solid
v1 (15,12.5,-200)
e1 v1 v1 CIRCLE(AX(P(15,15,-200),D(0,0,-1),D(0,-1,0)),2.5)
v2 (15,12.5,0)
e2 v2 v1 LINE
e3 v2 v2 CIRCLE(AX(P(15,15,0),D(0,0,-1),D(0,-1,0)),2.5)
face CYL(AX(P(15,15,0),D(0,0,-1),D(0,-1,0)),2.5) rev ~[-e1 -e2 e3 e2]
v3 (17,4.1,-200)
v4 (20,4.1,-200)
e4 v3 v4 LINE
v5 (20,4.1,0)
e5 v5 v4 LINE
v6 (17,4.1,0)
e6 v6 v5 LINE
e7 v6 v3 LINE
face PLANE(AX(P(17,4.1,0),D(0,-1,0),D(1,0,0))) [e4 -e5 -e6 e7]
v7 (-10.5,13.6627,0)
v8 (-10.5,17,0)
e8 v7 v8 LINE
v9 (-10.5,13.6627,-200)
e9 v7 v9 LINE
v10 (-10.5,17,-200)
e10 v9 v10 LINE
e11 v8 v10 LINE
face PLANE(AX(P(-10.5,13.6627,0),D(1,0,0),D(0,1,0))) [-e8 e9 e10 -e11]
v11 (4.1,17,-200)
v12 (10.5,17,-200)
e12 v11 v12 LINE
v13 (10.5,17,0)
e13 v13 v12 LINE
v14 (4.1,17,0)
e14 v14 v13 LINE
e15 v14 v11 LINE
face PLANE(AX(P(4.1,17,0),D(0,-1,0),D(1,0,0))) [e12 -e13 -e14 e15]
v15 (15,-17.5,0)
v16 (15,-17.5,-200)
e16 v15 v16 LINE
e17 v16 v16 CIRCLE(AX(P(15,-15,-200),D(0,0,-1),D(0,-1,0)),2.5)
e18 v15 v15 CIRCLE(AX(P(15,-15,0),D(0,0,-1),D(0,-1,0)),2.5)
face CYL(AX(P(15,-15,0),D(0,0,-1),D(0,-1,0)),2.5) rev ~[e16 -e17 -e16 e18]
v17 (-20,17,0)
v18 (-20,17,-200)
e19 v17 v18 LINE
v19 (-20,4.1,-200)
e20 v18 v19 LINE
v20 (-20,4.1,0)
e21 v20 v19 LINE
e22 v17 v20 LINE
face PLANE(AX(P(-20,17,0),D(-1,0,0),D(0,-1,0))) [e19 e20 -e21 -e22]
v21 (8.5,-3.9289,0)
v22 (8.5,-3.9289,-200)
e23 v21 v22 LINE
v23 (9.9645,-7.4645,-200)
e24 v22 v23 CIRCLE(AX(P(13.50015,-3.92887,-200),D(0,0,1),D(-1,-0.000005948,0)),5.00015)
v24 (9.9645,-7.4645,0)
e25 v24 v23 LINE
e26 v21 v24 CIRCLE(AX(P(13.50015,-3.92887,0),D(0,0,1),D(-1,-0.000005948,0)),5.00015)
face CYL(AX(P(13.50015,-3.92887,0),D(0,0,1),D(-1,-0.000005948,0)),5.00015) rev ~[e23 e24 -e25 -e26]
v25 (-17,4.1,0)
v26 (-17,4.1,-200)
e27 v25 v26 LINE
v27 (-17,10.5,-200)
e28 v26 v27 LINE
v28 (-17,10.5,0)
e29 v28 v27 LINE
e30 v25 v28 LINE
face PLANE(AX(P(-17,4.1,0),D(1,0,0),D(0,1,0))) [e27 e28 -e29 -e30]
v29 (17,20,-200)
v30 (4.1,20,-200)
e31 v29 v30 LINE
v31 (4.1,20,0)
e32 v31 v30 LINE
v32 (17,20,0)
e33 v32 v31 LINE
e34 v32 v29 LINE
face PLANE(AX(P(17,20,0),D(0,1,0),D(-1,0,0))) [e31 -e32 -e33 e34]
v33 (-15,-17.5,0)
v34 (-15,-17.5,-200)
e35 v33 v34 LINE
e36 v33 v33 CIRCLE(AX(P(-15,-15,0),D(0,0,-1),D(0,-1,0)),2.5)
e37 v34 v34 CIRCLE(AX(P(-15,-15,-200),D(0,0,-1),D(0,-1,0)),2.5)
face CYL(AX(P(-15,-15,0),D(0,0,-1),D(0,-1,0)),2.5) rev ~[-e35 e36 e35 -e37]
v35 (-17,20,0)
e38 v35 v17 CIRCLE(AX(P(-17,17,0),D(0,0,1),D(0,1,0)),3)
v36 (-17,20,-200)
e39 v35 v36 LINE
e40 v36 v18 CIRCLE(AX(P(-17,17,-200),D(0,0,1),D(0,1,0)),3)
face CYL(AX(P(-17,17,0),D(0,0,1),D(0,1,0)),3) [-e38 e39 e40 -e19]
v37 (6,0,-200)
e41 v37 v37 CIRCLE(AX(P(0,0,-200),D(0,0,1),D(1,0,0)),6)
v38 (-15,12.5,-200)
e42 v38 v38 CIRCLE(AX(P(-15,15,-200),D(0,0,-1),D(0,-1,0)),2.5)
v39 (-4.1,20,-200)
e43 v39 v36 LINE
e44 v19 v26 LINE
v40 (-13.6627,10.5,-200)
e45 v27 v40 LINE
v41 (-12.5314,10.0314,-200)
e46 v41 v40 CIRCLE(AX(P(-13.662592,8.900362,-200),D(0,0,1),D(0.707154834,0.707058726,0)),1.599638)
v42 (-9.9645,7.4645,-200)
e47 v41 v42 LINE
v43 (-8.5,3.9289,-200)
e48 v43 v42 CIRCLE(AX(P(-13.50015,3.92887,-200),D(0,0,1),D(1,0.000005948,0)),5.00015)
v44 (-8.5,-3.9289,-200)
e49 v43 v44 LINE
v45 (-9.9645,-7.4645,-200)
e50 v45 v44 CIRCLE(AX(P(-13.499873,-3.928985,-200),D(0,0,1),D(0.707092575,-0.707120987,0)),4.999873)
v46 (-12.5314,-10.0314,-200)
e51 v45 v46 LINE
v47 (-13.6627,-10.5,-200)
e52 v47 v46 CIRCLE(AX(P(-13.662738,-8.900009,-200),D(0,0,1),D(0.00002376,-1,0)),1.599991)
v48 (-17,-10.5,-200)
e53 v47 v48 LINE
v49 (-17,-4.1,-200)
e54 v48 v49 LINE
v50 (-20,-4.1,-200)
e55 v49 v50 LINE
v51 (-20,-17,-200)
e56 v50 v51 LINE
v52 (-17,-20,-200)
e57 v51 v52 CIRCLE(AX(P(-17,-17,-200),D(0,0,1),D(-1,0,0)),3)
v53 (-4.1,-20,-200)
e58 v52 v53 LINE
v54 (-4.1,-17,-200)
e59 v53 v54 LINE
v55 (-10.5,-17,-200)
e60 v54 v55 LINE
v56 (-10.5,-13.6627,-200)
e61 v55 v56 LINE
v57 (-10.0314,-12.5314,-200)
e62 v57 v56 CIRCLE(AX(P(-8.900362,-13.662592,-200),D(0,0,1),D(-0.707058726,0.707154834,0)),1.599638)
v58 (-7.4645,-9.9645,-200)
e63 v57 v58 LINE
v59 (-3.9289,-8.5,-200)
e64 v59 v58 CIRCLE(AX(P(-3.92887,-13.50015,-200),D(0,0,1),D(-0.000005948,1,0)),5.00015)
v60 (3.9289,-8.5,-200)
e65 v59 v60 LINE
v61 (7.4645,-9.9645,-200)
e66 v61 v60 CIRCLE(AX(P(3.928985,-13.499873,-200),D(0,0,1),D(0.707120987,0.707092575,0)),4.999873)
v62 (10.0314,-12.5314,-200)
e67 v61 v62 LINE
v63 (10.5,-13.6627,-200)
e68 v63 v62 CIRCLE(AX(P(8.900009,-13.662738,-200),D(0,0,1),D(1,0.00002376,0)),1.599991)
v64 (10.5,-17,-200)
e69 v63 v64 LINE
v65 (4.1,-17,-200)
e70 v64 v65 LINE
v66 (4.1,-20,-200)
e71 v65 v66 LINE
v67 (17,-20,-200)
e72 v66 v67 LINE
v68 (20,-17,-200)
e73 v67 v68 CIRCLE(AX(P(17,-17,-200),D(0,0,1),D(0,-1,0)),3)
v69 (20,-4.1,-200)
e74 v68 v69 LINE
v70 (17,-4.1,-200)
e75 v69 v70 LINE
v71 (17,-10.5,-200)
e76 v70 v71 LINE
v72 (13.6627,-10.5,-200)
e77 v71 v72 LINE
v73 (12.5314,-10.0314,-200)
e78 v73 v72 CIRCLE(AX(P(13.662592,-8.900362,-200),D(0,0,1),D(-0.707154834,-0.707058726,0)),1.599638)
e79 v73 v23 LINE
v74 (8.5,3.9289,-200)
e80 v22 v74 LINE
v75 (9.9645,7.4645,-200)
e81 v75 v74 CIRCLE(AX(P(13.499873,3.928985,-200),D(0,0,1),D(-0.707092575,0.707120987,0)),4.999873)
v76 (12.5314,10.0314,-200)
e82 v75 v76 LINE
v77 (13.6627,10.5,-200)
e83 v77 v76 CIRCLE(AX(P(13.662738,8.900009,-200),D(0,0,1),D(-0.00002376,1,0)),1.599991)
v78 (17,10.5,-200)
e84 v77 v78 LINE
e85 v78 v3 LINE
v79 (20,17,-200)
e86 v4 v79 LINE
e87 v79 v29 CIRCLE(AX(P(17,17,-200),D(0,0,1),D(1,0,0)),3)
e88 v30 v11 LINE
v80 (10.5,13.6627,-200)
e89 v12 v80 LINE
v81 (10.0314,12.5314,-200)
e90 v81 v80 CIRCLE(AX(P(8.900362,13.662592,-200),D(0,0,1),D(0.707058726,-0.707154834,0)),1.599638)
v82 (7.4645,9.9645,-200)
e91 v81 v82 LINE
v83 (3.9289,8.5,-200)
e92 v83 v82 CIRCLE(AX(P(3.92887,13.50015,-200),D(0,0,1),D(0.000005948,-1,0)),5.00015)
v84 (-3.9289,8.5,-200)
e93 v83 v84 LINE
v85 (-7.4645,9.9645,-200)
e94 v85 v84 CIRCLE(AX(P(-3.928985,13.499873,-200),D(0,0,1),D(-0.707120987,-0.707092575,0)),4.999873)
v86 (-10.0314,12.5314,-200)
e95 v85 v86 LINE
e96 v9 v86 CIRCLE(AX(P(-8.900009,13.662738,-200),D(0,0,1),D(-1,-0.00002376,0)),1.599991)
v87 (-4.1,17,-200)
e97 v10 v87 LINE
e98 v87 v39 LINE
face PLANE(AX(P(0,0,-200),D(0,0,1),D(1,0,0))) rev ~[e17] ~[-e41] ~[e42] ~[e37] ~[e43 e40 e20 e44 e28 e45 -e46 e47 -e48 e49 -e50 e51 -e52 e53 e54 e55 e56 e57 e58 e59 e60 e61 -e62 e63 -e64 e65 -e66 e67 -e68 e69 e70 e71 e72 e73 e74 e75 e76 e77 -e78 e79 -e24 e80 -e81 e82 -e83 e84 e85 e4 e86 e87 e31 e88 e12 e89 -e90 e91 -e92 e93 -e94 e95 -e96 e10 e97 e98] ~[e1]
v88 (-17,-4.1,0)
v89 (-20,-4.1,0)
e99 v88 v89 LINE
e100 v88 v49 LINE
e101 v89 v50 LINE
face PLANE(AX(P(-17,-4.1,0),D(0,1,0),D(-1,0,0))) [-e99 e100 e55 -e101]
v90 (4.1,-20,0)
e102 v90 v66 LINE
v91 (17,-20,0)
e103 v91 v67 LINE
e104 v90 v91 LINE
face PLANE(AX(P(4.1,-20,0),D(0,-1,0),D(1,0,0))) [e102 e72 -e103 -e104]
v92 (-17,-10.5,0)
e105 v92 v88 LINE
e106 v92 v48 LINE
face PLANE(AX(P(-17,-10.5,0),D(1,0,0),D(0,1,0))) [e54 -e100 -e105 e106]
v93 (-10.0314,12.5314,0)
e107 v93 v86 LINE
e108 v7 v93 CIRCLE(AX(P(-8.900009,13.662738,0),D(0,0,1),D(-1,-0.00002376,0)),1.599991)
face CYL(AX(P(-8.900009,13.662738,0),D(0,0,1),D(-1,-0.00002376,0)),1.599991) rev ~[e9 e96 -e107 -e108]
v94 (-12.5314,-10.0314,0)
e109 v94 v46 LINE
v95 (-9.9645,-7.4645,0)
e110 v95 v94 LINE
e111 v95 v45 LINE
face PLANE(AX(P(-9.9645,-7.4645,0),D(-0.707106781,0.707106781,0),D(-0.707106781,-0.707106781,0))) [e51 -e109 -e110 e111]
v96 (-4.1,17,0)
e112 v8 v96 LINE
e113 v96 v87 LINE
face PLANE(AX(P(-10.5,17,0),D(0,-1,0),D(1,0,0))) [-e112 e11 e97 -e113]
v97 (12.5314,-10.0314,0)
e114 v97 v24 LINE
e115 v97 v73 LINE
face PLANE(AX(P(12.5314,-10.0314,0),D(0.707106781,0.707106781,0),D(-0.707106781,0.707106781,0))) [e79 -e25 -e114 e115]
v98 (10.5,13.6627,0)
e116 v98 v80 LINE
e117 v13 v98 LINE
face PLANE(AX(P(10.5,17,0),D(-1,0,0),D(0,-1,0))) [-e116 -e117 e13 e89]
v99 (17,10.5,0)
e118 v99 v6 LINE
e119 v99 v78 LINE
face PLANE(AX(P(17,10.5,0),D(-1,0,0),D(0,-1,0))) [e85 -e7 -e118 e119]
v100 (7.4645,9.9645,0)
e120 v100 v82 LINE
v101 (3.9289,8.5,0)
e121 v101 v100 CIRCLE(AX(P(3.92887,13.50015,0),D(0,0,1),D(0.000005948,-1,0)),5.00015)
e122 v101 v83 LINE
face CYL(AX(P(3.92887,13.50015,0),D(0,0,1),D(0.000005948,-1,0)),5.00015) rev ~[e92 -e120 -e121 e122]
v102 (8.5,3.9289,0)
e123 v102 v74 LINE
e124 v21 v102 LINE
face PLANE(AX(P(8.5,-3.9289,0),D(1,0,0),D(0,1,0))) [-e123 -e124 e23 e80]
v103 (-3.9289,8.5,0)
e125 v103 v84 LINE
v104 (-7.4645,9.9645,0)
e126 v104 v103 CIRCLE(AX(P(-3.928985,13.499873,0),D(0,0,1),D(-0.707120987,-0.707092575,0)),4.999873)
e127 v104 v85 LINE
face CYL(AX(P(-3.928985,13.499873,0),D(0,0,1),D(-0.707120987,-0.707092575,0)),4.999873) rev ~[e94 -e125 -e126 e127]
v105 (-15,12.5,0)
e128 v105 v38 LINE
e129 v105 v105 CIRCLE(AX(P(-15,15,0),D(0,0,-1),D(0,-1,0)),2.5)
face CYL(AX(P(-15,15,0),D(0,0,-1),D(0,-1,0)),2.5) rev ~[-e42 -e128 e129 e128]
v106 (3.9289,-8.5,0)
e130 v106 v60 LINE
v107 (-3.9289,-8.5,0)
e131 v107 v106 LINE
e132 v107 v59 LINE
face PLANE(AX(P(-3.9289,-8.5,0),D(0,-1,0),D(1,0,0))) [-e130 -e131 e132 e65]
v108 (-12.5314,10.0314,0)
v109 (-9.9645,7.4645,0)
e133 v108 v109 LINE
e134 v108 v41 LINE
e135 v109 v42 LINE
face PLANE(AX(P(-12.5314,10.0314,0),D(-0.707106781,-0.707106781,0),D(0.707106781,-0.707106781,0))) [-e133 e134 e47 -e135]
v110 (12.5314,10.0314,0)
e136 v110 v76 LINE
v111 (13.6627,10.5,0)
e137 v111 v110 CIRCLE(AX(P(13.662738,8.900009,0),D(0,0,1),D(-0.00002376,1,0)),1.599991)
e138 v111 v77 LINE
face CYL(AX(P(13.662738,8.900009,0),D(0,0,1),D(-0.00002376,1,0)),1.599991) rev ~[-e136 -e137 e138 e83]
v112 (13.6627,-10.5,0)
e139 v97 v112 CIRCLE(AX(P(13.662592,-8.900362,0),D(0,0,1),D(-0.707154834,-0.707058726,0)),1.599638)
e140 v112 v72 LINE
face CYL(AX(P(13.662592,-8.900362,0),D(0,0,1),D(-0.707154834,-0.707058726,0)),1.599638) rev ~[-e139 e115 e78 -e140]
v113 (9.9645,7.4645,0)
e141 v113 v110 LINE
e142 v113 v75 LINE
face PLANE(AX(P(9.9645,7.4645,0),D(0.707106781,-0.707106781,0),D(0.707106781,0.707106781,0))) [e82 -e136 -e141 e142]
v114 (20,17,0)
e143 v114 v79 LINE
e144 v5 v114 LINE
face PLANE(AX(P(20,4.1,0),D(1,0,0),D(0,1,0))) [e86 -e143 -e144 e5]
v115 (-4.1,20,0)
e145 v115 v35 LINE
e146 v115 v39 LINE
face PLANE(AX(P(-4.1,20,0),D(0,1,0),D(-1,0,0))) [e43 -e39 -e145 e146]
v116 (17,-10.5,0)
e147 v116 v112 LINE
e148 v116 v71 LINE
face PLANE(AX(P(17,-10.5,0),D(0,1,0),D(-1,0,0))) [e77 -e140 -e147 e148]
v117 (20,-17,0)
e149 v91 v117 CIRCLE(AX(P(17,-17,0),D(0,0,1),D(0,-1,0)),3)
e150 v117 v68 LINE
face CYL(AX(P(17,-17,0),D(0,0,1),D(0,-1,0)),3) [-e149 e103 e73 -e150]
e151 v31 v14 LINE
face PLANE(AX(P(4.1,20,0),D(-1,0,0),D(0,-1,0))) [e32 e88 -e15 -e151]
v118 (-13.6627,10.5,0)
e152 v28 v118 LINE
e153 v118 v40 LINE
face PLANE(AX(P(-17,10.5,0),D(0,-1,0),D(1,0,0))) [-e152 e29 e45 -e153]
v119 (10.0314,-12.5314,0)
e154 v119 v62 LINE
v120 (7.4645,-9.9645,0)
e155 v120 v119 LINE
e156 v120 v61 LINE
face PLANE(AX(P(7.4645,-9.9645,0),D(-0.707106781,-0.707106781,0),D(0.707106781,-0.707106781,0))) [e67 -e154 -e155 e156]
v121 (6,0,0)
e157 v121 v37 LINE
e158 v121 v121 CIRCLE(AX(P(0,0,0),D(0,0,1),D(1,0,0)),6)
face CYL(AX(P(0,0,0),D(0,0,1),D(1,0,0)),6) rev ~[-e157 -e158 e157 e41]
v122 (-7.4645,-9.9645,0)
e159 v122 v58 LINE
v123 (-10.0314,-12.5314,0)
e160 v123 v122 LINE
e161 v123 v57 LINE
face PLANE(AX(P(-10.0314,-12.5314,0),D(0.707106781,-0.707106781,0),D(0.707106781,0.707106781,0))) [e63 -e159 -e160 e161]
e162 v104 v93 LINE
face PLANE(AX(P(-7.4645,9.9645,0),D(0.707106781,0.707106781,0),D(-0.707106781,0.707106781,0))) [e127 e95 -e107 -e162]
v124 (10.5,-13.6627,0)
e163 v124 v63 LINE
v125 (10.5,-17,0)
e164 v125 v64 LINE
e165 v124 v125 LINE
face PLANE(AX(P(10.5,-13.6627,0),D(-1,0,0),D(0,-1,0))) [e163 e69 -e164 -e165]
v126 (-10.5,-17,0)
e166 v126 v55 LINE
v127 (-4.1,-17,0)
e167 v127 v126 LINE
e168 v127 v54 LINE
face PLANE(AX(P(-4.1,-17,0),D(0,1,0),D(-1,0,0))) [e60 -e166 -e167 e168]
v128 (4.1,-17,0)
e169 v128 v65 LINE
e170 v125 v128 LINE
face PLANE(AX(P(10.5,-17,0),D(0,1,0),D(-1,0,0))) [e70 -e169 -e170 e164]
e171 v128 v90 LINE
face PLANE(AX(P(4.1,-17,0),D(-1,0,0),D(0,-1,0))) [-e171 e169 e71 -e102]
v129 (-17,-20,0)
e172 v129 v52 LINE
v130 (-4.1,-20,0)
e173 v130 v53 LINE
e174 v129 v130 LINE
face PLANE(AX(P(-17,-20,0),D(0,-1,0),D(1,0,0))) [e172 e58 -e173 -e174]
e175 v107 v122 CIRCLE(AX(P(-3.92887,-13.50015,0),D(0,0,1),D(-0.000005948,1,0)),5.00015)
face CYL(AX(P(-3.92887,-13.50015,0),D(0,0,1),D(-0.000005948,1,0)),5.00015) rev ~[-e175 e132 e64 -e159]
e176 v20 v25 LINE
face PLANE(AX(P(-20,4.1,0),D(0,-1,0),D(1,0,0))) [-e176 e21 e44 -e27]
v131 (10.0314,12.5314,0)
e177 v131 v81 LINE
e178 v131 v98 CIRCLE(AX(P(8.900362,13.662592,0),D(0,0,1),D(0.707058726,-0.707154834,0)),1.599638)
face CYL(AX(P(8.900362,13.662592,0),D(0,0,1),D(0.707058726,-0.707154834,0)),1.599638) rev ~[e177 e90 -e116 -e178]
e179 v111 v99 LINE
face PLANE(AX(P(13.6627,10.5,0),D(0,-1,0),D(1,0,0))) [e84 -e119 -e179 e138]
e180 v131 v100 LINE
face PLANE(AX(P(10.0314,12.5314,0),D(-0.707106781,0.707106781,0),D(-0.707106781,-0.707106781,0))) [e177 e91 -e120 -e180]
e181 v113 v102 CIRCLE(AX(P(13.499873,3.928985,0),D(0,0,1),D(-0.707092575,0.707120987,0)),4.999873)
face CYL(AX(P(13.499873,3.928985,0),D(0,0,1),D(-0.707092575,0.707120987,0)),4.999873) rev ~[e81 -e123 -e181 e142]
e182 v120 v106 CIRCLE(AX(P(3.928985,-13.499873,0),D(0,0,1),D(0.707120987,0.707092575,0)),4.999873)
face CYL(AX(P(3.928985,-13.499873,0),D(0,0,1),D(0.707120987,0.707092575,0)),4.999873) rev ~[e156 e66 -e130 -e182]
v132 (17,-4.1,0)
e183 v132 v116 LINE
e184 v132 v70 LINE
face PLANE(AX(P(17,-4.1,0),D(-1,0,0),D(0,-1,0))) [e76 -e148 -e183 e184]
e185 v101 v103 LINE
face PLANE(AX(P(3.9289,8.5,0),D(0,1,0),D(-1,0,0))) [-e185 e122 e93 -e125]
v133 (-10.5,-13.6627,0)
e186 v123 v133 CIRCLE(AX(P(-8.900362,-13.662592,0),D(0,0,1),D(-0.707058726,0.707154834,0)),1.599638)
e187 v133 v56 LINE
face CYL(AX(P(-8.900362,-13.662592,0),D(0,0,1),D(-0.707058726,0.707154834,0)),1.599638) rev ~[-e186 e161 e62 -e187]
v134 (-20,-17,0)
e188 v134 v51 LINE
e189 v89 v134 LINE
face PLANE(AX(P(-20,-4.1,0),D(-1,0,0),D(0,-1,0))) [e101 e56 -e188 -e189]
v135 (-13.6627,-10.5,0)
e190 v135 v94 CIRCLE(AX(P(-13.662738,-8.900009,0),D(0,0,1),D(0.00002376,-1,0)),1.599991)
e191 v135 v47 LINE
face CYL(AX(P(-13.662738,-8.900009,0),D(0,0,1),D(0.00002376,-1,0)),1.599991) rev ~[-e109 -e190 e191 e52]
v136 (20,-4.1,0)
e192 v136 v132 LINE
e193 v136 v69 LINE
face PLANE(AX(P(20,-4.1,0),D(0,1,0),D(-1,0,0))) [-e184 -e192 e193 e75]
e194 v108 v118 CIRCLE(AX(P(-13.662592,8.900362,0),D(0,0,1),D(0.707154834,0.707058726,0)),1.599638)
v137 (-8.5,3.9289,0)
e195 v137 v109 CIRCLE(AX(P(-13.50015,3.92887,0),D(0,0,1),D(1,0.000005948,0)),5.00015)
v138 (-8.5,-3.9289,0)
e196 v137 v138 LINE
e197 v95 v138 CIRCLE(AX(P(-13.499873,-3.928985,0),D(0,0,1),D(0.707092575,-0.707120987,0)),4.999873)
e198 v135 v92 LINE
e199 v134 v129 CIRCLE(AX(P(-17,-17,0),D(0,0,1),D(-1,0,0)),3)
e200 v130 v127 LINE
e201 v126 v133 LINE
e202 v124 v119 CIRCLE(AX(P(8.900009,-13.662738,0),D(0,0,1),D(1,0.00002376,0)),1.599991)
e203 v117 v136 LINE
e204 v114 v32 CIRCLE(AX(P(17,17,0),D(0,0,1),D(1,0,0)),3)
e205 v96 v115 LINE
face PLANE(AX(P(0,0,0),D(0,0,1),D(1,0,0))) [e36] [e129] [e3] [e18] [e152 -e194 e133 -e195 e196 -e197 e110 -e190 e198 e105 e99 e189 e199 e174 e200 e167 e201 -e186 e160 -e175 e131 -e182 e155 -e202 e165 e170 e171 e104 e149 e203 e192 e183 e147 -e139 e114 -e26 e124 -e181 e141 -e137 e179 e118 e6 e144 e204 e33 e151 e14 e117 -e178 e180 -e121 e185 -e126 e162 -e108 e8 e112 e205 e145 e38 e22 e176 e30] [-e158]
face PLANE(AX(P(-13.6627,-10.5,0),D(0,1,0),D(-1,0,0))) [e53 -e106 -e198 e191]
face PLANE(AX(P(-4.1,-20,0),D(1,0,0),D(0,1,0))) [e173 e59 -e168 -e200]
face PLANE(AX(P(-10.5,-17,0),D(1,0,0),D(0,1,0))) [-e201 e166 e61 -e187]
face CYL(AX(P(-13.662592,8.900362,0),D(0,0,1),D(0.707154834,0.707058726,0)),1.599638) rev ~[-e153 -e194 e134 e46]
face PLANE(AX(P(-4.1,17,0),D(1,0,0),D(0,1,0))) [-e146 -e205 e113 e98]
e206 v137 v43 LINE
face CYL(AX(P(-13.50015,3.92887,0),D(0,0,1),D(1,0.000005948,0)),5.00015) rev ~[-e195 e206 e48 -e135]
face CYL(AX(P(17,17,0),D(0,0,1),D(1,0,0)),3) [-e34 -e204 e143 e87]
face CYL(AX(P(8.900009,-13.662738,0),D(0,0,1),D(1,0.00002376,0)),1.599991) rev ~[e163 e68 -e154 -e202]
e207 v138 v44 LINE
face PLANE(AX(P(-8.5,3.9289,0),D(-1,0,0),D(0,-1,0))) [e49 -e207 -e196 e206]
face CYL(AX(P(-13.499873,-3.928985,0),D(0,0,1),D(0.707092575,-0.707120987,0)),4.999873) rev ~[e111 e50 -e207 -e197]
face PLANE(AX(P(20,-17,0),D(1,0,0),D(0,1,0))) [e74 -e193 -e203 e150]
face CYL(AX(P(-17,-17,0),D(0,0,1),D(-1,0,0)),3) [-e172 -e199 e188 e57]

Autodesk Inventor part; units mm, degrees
sketch "Skizze_1" plane through (0, 0, 0) normal (0, 0, 1) x (1, 0, 0)
  arc A0 (-20, -17) -> (-17, -20) centre (-17, -17) ccw
  line L0 (-17, -20) -> (-4.1, -20)
  line L1 (-4.1, -20) -> (-4.1, -17)
  line L2 (-4.1, -17) -> (-10.5, -17)
  line L3 (-10.5, -17) -> (-10.5, -13.6627)
  arc A1 (-10.0314, -12.5314) -> (-10.5, -13.6627) centre (-8.9002, -13.6627) ccw
  line L4 (-10.0314, -12.5314) -> (-7.4645, -9.9645)
  arc A2 (-3.9289, -8.5) -> (-7.4645, -9.9645) centre (-3.9289, -13.5) ccw
  line L5 (-3.9289, -8.5) -> (3.9289, -8.5)
  arc A3 (7.4645, -9.9645) -> (3.9289, -8.5) centre (3.9289, -13.5) ccw
  line L6 (7.4645, -9.9645) -> (10.0314, -12.5314)
  arc A4 (10.5, -13.6627) -> (10.0314, -12.5314) centre (8.9002, -13.6627) ccw
  line L7 (10.5, -13.6627) -> (10.5, -17)
  line L8 (10.5, -17) -> (4.1, -17)
  line L9 (4.1, -17) -> (4.1, -20)
  line L10 (4.1, -20) -> (17, -20)
  arc A5 (17, -20) -> (20, -17) centre (17, -17) ccw
  line L11 (20, -17) -> (20, -4.1)
  line L12 (20, -4.1) -> (17, -4.1)
  line L13 (17, -4.1) -> (17, -10.5)
  line L14 (17, -10.5) -> (13.6627, -10.5)
  arc A6 (12.5314, -10.0314) -> (13.6627, -10.5) centre (13.6627, -8.9002) ccw
  line L15 (12.5314, -10.0314) -> (9.9645, -7.4645)
  arc A7 (8.5, -3.9289) -> (9.9645, -7.4645) centre (13.5, -3.9289) ccw
  line L16 (8.5, -3.9289) -> (8.5, 3.9289)
  arc A8 (9.9645, 7.4645) -> (8.5, 3.9289) centre (13.5, 3.9289) ccw
  line L17 (9.9645, 7.4645) -> (12.5314, 10.0314)
  arc A9 (13.6627, 10.5) -> (12.5314, 10.0314) centre (13.6627, 8.9002) ccw
  line L18 (13.6627, 10.5) -> (17, 10.5)
  line L19 (17, 10.5) -> (17, 4.1)
  line L20 (17, 4.1) -> (20, 4.1)
  line L21 (20, 4.1) -> (20, 17)
  arc A10 (20, 17) -> (17, 20) centre (17, 17) ccw
  line L22 (17, 20) -> (4.1, 20)
  line L23 (4.1, 20) -> (4.1, 17)
  line L24 (4.1, 17) -> (10.5, 17)
  line L25 (10.5, 17) -> (10.5, 13.6627)
  arc A11 (10.0314, 12.5314) -> (10.5, 13.6627) centre (8.9002, 13.6627) ccw
  line L26 (10.0314, 12.5314) -> (7.4645, 9.9645)
  arc A12 (3.9289, 8.5) -> (7.4645, 9.9645) centre (3.9289, 13.5) ccw
  line L27 (3.9289, 8.5) -> (-3.9289, 8.5)
  arc A13 (-7.4645, 9.9645) -> (-3.9289, 8.5) centre (-3.9289, 13.5) ccw
  line L28 (-7.4645, 9.9645) -> (-10.0314, 12.5314)
  arc A14 (-10.5, 13.6627) -> (-10.0314, 12.5314) centre (-8.9002, 13.6627) ccw
  line L29 (-10.5, 13.6627) -> (-10.5, 17)
  line L30 (-10.5, 17) -> (-4.1, 17)
  line L31 (-4.1, 17) -> (-4.1, 20)
  line L32 (-4.1, 20) -> (-17, 20)
  arc A15 (-17, 20) -> (-20, 17) centre (-17, 17) ccw
  line L33 (-20, 17) -> (-20, 4.1)
  line L34 (-20, 4.1) -> (-17, 4.1)
  line L35 (-17, 4.1) -> (-17, 10.5)
  line L36 (-17, 10.5) -> (-13.6627, 10.5)
  arc A16 (-12.5314, 10.0314) -> (-13.6627, 10.5) centre (-13.6627, 8.9002) ccw
  line L37 (-12.5314, 10.0314) -> (-9.9645, 7.4645)
  arc A17 (-8.5, 3.9289) -> (-9.9645, 7.4645) centre (-13.5, 3.9289) ccw
  line L38 (-8.5, 3.9289) -> (-8.5, -3.9289)
  arc A18 (-9.9645, -7.4645) -> (-8.5, -3.9289) centre (-13.5, -3.9289) ccw
  line L39 (-9.9645, -7.4645) -> (-12.5314, -10.0314)
  arc A19 (-13.6627, -10.5) -> (-12.5314, -10.0314) centre (-13.6627, -8.9002) ccw
  line L40 (-13.6627, -10.5) -> (-17, -10.5)
  line L41 (-17, -10.5) -> (-17, -4.1)
  line L42 (-17, -4.1) -> (-20, -4.1)
  line L43 (-20, -4.1) -> (-20, -17)
  circle A20 centre (0, 0) radius 6
extrude "Extrusion1" add sketch "Skizze_1" against normal blind 200
sketch "Sketch2" plane through (0, 0, 0) normal (0, 0, 1) x (1, 0, 0)
  point P0 (-15, -15)
hole "Drilling 1" at (-15, -15, 0) direction (0, 0, -1) diameter 5 depth 6000
sketch "Sketch3" plane through (0, 0, 0) normal (0, 0, 1) x (1, 0, 0)
  point P0 (15, -15)
hole "Drilling 2" at (15, -15, 0) direction (0, 0, -1) diameter 5 depth 6000
sketch "Sketch4" plane through (0, 0, 0) normal (0, 0, 1) x (1, 0, 0)
  point P0 (15, 15)
hole "Drilling 3" at (15, 15, 0) direction (0, 0, -1) diameter 5 depth 6000
sketch "Sketch5" plane through (0, 0, 0) normal (0, 0, 1) x (1, 0, 0)
  point P0 (-15, 15)
hole "Drilling 4" at (-15, 15, 0) direction (0, 0, -1) diameter 5 depth 6000
ref_plane "side_4d_XY" through (-20, 0, -330) normal (-1, 0, 0) x (0, 1, 0)
ref_plane "side_4d_YZ" through (-20, 0, -330) normal (0, 1, 0) x (0, 0, -1)
ref_plane "side_4d_ZX" through (-20, 0, -330) normal (0, 0, -1) x (-1, 0, 0)
ref_plane "side_1a_XY" through (0, 20, -330) normal (0, 1, 0) x (1, 0, 0)
ref_plane "side_1a_YZ" through (0, 20, -330) normal (1, 0, 0) x (0, 0, -1)
ref_plane "side_1a_ZX" through (0, 20, -330) normal (0, 0, -1) x (0, 1, 0)
ref_plane "side_2b_XY" through (20, 0, -330) normal (1, 0, 0) x (0, -1, 0)
ref_plane "side_2b_YZ" through (20, 0, -330) normal (0, -1, 0) x (0, 0, -1)
ref_plane "side_2b_ZX" through (20, 0, -330) normal (0, 0, -1) x (1, 0, 0)
ref_plane "side_3c_XY" through (0, -20, -330) normal (0, -1, 0) x (-1, 0, 0)
ref_plane "side_3c_YZ" through (0, -20, -330) normal (-1, 0, 0) x (0, 0, -1)
ref_plane "side_3c_ZX" through (0, -20, -330) normal (0, 0, -1) x (0, -1, 0)
ref_plane "end_XY" through (0, 0, -660) normal (0, 0, -1) x (1, 0, 0)
ref_plane "end_YZ" through (0, 0, -660) normal (1, 0, 0) x (0, -1, 0)
ref_plane "end_ZX" through (0, 0, -660) normal (0, -1, 0) x (0, 0, -1)
ref_plane "start_XY" through (0, 0, 0) normal (0, 0, 1) x (1, 0, 0)
ref_plane "start_YZ" through (0, 0, 0) normal (1, 0, 0) x (0, 1, 0)
ref_plane "start_ZX" through (0, 0, 0) normal (0, 1, 0) x (0, 0, 1)
properties part number "MayTec 1.11.040040.43S_Profile 40x40, 4E, S_660_Detail_(0;0,0,0)"
